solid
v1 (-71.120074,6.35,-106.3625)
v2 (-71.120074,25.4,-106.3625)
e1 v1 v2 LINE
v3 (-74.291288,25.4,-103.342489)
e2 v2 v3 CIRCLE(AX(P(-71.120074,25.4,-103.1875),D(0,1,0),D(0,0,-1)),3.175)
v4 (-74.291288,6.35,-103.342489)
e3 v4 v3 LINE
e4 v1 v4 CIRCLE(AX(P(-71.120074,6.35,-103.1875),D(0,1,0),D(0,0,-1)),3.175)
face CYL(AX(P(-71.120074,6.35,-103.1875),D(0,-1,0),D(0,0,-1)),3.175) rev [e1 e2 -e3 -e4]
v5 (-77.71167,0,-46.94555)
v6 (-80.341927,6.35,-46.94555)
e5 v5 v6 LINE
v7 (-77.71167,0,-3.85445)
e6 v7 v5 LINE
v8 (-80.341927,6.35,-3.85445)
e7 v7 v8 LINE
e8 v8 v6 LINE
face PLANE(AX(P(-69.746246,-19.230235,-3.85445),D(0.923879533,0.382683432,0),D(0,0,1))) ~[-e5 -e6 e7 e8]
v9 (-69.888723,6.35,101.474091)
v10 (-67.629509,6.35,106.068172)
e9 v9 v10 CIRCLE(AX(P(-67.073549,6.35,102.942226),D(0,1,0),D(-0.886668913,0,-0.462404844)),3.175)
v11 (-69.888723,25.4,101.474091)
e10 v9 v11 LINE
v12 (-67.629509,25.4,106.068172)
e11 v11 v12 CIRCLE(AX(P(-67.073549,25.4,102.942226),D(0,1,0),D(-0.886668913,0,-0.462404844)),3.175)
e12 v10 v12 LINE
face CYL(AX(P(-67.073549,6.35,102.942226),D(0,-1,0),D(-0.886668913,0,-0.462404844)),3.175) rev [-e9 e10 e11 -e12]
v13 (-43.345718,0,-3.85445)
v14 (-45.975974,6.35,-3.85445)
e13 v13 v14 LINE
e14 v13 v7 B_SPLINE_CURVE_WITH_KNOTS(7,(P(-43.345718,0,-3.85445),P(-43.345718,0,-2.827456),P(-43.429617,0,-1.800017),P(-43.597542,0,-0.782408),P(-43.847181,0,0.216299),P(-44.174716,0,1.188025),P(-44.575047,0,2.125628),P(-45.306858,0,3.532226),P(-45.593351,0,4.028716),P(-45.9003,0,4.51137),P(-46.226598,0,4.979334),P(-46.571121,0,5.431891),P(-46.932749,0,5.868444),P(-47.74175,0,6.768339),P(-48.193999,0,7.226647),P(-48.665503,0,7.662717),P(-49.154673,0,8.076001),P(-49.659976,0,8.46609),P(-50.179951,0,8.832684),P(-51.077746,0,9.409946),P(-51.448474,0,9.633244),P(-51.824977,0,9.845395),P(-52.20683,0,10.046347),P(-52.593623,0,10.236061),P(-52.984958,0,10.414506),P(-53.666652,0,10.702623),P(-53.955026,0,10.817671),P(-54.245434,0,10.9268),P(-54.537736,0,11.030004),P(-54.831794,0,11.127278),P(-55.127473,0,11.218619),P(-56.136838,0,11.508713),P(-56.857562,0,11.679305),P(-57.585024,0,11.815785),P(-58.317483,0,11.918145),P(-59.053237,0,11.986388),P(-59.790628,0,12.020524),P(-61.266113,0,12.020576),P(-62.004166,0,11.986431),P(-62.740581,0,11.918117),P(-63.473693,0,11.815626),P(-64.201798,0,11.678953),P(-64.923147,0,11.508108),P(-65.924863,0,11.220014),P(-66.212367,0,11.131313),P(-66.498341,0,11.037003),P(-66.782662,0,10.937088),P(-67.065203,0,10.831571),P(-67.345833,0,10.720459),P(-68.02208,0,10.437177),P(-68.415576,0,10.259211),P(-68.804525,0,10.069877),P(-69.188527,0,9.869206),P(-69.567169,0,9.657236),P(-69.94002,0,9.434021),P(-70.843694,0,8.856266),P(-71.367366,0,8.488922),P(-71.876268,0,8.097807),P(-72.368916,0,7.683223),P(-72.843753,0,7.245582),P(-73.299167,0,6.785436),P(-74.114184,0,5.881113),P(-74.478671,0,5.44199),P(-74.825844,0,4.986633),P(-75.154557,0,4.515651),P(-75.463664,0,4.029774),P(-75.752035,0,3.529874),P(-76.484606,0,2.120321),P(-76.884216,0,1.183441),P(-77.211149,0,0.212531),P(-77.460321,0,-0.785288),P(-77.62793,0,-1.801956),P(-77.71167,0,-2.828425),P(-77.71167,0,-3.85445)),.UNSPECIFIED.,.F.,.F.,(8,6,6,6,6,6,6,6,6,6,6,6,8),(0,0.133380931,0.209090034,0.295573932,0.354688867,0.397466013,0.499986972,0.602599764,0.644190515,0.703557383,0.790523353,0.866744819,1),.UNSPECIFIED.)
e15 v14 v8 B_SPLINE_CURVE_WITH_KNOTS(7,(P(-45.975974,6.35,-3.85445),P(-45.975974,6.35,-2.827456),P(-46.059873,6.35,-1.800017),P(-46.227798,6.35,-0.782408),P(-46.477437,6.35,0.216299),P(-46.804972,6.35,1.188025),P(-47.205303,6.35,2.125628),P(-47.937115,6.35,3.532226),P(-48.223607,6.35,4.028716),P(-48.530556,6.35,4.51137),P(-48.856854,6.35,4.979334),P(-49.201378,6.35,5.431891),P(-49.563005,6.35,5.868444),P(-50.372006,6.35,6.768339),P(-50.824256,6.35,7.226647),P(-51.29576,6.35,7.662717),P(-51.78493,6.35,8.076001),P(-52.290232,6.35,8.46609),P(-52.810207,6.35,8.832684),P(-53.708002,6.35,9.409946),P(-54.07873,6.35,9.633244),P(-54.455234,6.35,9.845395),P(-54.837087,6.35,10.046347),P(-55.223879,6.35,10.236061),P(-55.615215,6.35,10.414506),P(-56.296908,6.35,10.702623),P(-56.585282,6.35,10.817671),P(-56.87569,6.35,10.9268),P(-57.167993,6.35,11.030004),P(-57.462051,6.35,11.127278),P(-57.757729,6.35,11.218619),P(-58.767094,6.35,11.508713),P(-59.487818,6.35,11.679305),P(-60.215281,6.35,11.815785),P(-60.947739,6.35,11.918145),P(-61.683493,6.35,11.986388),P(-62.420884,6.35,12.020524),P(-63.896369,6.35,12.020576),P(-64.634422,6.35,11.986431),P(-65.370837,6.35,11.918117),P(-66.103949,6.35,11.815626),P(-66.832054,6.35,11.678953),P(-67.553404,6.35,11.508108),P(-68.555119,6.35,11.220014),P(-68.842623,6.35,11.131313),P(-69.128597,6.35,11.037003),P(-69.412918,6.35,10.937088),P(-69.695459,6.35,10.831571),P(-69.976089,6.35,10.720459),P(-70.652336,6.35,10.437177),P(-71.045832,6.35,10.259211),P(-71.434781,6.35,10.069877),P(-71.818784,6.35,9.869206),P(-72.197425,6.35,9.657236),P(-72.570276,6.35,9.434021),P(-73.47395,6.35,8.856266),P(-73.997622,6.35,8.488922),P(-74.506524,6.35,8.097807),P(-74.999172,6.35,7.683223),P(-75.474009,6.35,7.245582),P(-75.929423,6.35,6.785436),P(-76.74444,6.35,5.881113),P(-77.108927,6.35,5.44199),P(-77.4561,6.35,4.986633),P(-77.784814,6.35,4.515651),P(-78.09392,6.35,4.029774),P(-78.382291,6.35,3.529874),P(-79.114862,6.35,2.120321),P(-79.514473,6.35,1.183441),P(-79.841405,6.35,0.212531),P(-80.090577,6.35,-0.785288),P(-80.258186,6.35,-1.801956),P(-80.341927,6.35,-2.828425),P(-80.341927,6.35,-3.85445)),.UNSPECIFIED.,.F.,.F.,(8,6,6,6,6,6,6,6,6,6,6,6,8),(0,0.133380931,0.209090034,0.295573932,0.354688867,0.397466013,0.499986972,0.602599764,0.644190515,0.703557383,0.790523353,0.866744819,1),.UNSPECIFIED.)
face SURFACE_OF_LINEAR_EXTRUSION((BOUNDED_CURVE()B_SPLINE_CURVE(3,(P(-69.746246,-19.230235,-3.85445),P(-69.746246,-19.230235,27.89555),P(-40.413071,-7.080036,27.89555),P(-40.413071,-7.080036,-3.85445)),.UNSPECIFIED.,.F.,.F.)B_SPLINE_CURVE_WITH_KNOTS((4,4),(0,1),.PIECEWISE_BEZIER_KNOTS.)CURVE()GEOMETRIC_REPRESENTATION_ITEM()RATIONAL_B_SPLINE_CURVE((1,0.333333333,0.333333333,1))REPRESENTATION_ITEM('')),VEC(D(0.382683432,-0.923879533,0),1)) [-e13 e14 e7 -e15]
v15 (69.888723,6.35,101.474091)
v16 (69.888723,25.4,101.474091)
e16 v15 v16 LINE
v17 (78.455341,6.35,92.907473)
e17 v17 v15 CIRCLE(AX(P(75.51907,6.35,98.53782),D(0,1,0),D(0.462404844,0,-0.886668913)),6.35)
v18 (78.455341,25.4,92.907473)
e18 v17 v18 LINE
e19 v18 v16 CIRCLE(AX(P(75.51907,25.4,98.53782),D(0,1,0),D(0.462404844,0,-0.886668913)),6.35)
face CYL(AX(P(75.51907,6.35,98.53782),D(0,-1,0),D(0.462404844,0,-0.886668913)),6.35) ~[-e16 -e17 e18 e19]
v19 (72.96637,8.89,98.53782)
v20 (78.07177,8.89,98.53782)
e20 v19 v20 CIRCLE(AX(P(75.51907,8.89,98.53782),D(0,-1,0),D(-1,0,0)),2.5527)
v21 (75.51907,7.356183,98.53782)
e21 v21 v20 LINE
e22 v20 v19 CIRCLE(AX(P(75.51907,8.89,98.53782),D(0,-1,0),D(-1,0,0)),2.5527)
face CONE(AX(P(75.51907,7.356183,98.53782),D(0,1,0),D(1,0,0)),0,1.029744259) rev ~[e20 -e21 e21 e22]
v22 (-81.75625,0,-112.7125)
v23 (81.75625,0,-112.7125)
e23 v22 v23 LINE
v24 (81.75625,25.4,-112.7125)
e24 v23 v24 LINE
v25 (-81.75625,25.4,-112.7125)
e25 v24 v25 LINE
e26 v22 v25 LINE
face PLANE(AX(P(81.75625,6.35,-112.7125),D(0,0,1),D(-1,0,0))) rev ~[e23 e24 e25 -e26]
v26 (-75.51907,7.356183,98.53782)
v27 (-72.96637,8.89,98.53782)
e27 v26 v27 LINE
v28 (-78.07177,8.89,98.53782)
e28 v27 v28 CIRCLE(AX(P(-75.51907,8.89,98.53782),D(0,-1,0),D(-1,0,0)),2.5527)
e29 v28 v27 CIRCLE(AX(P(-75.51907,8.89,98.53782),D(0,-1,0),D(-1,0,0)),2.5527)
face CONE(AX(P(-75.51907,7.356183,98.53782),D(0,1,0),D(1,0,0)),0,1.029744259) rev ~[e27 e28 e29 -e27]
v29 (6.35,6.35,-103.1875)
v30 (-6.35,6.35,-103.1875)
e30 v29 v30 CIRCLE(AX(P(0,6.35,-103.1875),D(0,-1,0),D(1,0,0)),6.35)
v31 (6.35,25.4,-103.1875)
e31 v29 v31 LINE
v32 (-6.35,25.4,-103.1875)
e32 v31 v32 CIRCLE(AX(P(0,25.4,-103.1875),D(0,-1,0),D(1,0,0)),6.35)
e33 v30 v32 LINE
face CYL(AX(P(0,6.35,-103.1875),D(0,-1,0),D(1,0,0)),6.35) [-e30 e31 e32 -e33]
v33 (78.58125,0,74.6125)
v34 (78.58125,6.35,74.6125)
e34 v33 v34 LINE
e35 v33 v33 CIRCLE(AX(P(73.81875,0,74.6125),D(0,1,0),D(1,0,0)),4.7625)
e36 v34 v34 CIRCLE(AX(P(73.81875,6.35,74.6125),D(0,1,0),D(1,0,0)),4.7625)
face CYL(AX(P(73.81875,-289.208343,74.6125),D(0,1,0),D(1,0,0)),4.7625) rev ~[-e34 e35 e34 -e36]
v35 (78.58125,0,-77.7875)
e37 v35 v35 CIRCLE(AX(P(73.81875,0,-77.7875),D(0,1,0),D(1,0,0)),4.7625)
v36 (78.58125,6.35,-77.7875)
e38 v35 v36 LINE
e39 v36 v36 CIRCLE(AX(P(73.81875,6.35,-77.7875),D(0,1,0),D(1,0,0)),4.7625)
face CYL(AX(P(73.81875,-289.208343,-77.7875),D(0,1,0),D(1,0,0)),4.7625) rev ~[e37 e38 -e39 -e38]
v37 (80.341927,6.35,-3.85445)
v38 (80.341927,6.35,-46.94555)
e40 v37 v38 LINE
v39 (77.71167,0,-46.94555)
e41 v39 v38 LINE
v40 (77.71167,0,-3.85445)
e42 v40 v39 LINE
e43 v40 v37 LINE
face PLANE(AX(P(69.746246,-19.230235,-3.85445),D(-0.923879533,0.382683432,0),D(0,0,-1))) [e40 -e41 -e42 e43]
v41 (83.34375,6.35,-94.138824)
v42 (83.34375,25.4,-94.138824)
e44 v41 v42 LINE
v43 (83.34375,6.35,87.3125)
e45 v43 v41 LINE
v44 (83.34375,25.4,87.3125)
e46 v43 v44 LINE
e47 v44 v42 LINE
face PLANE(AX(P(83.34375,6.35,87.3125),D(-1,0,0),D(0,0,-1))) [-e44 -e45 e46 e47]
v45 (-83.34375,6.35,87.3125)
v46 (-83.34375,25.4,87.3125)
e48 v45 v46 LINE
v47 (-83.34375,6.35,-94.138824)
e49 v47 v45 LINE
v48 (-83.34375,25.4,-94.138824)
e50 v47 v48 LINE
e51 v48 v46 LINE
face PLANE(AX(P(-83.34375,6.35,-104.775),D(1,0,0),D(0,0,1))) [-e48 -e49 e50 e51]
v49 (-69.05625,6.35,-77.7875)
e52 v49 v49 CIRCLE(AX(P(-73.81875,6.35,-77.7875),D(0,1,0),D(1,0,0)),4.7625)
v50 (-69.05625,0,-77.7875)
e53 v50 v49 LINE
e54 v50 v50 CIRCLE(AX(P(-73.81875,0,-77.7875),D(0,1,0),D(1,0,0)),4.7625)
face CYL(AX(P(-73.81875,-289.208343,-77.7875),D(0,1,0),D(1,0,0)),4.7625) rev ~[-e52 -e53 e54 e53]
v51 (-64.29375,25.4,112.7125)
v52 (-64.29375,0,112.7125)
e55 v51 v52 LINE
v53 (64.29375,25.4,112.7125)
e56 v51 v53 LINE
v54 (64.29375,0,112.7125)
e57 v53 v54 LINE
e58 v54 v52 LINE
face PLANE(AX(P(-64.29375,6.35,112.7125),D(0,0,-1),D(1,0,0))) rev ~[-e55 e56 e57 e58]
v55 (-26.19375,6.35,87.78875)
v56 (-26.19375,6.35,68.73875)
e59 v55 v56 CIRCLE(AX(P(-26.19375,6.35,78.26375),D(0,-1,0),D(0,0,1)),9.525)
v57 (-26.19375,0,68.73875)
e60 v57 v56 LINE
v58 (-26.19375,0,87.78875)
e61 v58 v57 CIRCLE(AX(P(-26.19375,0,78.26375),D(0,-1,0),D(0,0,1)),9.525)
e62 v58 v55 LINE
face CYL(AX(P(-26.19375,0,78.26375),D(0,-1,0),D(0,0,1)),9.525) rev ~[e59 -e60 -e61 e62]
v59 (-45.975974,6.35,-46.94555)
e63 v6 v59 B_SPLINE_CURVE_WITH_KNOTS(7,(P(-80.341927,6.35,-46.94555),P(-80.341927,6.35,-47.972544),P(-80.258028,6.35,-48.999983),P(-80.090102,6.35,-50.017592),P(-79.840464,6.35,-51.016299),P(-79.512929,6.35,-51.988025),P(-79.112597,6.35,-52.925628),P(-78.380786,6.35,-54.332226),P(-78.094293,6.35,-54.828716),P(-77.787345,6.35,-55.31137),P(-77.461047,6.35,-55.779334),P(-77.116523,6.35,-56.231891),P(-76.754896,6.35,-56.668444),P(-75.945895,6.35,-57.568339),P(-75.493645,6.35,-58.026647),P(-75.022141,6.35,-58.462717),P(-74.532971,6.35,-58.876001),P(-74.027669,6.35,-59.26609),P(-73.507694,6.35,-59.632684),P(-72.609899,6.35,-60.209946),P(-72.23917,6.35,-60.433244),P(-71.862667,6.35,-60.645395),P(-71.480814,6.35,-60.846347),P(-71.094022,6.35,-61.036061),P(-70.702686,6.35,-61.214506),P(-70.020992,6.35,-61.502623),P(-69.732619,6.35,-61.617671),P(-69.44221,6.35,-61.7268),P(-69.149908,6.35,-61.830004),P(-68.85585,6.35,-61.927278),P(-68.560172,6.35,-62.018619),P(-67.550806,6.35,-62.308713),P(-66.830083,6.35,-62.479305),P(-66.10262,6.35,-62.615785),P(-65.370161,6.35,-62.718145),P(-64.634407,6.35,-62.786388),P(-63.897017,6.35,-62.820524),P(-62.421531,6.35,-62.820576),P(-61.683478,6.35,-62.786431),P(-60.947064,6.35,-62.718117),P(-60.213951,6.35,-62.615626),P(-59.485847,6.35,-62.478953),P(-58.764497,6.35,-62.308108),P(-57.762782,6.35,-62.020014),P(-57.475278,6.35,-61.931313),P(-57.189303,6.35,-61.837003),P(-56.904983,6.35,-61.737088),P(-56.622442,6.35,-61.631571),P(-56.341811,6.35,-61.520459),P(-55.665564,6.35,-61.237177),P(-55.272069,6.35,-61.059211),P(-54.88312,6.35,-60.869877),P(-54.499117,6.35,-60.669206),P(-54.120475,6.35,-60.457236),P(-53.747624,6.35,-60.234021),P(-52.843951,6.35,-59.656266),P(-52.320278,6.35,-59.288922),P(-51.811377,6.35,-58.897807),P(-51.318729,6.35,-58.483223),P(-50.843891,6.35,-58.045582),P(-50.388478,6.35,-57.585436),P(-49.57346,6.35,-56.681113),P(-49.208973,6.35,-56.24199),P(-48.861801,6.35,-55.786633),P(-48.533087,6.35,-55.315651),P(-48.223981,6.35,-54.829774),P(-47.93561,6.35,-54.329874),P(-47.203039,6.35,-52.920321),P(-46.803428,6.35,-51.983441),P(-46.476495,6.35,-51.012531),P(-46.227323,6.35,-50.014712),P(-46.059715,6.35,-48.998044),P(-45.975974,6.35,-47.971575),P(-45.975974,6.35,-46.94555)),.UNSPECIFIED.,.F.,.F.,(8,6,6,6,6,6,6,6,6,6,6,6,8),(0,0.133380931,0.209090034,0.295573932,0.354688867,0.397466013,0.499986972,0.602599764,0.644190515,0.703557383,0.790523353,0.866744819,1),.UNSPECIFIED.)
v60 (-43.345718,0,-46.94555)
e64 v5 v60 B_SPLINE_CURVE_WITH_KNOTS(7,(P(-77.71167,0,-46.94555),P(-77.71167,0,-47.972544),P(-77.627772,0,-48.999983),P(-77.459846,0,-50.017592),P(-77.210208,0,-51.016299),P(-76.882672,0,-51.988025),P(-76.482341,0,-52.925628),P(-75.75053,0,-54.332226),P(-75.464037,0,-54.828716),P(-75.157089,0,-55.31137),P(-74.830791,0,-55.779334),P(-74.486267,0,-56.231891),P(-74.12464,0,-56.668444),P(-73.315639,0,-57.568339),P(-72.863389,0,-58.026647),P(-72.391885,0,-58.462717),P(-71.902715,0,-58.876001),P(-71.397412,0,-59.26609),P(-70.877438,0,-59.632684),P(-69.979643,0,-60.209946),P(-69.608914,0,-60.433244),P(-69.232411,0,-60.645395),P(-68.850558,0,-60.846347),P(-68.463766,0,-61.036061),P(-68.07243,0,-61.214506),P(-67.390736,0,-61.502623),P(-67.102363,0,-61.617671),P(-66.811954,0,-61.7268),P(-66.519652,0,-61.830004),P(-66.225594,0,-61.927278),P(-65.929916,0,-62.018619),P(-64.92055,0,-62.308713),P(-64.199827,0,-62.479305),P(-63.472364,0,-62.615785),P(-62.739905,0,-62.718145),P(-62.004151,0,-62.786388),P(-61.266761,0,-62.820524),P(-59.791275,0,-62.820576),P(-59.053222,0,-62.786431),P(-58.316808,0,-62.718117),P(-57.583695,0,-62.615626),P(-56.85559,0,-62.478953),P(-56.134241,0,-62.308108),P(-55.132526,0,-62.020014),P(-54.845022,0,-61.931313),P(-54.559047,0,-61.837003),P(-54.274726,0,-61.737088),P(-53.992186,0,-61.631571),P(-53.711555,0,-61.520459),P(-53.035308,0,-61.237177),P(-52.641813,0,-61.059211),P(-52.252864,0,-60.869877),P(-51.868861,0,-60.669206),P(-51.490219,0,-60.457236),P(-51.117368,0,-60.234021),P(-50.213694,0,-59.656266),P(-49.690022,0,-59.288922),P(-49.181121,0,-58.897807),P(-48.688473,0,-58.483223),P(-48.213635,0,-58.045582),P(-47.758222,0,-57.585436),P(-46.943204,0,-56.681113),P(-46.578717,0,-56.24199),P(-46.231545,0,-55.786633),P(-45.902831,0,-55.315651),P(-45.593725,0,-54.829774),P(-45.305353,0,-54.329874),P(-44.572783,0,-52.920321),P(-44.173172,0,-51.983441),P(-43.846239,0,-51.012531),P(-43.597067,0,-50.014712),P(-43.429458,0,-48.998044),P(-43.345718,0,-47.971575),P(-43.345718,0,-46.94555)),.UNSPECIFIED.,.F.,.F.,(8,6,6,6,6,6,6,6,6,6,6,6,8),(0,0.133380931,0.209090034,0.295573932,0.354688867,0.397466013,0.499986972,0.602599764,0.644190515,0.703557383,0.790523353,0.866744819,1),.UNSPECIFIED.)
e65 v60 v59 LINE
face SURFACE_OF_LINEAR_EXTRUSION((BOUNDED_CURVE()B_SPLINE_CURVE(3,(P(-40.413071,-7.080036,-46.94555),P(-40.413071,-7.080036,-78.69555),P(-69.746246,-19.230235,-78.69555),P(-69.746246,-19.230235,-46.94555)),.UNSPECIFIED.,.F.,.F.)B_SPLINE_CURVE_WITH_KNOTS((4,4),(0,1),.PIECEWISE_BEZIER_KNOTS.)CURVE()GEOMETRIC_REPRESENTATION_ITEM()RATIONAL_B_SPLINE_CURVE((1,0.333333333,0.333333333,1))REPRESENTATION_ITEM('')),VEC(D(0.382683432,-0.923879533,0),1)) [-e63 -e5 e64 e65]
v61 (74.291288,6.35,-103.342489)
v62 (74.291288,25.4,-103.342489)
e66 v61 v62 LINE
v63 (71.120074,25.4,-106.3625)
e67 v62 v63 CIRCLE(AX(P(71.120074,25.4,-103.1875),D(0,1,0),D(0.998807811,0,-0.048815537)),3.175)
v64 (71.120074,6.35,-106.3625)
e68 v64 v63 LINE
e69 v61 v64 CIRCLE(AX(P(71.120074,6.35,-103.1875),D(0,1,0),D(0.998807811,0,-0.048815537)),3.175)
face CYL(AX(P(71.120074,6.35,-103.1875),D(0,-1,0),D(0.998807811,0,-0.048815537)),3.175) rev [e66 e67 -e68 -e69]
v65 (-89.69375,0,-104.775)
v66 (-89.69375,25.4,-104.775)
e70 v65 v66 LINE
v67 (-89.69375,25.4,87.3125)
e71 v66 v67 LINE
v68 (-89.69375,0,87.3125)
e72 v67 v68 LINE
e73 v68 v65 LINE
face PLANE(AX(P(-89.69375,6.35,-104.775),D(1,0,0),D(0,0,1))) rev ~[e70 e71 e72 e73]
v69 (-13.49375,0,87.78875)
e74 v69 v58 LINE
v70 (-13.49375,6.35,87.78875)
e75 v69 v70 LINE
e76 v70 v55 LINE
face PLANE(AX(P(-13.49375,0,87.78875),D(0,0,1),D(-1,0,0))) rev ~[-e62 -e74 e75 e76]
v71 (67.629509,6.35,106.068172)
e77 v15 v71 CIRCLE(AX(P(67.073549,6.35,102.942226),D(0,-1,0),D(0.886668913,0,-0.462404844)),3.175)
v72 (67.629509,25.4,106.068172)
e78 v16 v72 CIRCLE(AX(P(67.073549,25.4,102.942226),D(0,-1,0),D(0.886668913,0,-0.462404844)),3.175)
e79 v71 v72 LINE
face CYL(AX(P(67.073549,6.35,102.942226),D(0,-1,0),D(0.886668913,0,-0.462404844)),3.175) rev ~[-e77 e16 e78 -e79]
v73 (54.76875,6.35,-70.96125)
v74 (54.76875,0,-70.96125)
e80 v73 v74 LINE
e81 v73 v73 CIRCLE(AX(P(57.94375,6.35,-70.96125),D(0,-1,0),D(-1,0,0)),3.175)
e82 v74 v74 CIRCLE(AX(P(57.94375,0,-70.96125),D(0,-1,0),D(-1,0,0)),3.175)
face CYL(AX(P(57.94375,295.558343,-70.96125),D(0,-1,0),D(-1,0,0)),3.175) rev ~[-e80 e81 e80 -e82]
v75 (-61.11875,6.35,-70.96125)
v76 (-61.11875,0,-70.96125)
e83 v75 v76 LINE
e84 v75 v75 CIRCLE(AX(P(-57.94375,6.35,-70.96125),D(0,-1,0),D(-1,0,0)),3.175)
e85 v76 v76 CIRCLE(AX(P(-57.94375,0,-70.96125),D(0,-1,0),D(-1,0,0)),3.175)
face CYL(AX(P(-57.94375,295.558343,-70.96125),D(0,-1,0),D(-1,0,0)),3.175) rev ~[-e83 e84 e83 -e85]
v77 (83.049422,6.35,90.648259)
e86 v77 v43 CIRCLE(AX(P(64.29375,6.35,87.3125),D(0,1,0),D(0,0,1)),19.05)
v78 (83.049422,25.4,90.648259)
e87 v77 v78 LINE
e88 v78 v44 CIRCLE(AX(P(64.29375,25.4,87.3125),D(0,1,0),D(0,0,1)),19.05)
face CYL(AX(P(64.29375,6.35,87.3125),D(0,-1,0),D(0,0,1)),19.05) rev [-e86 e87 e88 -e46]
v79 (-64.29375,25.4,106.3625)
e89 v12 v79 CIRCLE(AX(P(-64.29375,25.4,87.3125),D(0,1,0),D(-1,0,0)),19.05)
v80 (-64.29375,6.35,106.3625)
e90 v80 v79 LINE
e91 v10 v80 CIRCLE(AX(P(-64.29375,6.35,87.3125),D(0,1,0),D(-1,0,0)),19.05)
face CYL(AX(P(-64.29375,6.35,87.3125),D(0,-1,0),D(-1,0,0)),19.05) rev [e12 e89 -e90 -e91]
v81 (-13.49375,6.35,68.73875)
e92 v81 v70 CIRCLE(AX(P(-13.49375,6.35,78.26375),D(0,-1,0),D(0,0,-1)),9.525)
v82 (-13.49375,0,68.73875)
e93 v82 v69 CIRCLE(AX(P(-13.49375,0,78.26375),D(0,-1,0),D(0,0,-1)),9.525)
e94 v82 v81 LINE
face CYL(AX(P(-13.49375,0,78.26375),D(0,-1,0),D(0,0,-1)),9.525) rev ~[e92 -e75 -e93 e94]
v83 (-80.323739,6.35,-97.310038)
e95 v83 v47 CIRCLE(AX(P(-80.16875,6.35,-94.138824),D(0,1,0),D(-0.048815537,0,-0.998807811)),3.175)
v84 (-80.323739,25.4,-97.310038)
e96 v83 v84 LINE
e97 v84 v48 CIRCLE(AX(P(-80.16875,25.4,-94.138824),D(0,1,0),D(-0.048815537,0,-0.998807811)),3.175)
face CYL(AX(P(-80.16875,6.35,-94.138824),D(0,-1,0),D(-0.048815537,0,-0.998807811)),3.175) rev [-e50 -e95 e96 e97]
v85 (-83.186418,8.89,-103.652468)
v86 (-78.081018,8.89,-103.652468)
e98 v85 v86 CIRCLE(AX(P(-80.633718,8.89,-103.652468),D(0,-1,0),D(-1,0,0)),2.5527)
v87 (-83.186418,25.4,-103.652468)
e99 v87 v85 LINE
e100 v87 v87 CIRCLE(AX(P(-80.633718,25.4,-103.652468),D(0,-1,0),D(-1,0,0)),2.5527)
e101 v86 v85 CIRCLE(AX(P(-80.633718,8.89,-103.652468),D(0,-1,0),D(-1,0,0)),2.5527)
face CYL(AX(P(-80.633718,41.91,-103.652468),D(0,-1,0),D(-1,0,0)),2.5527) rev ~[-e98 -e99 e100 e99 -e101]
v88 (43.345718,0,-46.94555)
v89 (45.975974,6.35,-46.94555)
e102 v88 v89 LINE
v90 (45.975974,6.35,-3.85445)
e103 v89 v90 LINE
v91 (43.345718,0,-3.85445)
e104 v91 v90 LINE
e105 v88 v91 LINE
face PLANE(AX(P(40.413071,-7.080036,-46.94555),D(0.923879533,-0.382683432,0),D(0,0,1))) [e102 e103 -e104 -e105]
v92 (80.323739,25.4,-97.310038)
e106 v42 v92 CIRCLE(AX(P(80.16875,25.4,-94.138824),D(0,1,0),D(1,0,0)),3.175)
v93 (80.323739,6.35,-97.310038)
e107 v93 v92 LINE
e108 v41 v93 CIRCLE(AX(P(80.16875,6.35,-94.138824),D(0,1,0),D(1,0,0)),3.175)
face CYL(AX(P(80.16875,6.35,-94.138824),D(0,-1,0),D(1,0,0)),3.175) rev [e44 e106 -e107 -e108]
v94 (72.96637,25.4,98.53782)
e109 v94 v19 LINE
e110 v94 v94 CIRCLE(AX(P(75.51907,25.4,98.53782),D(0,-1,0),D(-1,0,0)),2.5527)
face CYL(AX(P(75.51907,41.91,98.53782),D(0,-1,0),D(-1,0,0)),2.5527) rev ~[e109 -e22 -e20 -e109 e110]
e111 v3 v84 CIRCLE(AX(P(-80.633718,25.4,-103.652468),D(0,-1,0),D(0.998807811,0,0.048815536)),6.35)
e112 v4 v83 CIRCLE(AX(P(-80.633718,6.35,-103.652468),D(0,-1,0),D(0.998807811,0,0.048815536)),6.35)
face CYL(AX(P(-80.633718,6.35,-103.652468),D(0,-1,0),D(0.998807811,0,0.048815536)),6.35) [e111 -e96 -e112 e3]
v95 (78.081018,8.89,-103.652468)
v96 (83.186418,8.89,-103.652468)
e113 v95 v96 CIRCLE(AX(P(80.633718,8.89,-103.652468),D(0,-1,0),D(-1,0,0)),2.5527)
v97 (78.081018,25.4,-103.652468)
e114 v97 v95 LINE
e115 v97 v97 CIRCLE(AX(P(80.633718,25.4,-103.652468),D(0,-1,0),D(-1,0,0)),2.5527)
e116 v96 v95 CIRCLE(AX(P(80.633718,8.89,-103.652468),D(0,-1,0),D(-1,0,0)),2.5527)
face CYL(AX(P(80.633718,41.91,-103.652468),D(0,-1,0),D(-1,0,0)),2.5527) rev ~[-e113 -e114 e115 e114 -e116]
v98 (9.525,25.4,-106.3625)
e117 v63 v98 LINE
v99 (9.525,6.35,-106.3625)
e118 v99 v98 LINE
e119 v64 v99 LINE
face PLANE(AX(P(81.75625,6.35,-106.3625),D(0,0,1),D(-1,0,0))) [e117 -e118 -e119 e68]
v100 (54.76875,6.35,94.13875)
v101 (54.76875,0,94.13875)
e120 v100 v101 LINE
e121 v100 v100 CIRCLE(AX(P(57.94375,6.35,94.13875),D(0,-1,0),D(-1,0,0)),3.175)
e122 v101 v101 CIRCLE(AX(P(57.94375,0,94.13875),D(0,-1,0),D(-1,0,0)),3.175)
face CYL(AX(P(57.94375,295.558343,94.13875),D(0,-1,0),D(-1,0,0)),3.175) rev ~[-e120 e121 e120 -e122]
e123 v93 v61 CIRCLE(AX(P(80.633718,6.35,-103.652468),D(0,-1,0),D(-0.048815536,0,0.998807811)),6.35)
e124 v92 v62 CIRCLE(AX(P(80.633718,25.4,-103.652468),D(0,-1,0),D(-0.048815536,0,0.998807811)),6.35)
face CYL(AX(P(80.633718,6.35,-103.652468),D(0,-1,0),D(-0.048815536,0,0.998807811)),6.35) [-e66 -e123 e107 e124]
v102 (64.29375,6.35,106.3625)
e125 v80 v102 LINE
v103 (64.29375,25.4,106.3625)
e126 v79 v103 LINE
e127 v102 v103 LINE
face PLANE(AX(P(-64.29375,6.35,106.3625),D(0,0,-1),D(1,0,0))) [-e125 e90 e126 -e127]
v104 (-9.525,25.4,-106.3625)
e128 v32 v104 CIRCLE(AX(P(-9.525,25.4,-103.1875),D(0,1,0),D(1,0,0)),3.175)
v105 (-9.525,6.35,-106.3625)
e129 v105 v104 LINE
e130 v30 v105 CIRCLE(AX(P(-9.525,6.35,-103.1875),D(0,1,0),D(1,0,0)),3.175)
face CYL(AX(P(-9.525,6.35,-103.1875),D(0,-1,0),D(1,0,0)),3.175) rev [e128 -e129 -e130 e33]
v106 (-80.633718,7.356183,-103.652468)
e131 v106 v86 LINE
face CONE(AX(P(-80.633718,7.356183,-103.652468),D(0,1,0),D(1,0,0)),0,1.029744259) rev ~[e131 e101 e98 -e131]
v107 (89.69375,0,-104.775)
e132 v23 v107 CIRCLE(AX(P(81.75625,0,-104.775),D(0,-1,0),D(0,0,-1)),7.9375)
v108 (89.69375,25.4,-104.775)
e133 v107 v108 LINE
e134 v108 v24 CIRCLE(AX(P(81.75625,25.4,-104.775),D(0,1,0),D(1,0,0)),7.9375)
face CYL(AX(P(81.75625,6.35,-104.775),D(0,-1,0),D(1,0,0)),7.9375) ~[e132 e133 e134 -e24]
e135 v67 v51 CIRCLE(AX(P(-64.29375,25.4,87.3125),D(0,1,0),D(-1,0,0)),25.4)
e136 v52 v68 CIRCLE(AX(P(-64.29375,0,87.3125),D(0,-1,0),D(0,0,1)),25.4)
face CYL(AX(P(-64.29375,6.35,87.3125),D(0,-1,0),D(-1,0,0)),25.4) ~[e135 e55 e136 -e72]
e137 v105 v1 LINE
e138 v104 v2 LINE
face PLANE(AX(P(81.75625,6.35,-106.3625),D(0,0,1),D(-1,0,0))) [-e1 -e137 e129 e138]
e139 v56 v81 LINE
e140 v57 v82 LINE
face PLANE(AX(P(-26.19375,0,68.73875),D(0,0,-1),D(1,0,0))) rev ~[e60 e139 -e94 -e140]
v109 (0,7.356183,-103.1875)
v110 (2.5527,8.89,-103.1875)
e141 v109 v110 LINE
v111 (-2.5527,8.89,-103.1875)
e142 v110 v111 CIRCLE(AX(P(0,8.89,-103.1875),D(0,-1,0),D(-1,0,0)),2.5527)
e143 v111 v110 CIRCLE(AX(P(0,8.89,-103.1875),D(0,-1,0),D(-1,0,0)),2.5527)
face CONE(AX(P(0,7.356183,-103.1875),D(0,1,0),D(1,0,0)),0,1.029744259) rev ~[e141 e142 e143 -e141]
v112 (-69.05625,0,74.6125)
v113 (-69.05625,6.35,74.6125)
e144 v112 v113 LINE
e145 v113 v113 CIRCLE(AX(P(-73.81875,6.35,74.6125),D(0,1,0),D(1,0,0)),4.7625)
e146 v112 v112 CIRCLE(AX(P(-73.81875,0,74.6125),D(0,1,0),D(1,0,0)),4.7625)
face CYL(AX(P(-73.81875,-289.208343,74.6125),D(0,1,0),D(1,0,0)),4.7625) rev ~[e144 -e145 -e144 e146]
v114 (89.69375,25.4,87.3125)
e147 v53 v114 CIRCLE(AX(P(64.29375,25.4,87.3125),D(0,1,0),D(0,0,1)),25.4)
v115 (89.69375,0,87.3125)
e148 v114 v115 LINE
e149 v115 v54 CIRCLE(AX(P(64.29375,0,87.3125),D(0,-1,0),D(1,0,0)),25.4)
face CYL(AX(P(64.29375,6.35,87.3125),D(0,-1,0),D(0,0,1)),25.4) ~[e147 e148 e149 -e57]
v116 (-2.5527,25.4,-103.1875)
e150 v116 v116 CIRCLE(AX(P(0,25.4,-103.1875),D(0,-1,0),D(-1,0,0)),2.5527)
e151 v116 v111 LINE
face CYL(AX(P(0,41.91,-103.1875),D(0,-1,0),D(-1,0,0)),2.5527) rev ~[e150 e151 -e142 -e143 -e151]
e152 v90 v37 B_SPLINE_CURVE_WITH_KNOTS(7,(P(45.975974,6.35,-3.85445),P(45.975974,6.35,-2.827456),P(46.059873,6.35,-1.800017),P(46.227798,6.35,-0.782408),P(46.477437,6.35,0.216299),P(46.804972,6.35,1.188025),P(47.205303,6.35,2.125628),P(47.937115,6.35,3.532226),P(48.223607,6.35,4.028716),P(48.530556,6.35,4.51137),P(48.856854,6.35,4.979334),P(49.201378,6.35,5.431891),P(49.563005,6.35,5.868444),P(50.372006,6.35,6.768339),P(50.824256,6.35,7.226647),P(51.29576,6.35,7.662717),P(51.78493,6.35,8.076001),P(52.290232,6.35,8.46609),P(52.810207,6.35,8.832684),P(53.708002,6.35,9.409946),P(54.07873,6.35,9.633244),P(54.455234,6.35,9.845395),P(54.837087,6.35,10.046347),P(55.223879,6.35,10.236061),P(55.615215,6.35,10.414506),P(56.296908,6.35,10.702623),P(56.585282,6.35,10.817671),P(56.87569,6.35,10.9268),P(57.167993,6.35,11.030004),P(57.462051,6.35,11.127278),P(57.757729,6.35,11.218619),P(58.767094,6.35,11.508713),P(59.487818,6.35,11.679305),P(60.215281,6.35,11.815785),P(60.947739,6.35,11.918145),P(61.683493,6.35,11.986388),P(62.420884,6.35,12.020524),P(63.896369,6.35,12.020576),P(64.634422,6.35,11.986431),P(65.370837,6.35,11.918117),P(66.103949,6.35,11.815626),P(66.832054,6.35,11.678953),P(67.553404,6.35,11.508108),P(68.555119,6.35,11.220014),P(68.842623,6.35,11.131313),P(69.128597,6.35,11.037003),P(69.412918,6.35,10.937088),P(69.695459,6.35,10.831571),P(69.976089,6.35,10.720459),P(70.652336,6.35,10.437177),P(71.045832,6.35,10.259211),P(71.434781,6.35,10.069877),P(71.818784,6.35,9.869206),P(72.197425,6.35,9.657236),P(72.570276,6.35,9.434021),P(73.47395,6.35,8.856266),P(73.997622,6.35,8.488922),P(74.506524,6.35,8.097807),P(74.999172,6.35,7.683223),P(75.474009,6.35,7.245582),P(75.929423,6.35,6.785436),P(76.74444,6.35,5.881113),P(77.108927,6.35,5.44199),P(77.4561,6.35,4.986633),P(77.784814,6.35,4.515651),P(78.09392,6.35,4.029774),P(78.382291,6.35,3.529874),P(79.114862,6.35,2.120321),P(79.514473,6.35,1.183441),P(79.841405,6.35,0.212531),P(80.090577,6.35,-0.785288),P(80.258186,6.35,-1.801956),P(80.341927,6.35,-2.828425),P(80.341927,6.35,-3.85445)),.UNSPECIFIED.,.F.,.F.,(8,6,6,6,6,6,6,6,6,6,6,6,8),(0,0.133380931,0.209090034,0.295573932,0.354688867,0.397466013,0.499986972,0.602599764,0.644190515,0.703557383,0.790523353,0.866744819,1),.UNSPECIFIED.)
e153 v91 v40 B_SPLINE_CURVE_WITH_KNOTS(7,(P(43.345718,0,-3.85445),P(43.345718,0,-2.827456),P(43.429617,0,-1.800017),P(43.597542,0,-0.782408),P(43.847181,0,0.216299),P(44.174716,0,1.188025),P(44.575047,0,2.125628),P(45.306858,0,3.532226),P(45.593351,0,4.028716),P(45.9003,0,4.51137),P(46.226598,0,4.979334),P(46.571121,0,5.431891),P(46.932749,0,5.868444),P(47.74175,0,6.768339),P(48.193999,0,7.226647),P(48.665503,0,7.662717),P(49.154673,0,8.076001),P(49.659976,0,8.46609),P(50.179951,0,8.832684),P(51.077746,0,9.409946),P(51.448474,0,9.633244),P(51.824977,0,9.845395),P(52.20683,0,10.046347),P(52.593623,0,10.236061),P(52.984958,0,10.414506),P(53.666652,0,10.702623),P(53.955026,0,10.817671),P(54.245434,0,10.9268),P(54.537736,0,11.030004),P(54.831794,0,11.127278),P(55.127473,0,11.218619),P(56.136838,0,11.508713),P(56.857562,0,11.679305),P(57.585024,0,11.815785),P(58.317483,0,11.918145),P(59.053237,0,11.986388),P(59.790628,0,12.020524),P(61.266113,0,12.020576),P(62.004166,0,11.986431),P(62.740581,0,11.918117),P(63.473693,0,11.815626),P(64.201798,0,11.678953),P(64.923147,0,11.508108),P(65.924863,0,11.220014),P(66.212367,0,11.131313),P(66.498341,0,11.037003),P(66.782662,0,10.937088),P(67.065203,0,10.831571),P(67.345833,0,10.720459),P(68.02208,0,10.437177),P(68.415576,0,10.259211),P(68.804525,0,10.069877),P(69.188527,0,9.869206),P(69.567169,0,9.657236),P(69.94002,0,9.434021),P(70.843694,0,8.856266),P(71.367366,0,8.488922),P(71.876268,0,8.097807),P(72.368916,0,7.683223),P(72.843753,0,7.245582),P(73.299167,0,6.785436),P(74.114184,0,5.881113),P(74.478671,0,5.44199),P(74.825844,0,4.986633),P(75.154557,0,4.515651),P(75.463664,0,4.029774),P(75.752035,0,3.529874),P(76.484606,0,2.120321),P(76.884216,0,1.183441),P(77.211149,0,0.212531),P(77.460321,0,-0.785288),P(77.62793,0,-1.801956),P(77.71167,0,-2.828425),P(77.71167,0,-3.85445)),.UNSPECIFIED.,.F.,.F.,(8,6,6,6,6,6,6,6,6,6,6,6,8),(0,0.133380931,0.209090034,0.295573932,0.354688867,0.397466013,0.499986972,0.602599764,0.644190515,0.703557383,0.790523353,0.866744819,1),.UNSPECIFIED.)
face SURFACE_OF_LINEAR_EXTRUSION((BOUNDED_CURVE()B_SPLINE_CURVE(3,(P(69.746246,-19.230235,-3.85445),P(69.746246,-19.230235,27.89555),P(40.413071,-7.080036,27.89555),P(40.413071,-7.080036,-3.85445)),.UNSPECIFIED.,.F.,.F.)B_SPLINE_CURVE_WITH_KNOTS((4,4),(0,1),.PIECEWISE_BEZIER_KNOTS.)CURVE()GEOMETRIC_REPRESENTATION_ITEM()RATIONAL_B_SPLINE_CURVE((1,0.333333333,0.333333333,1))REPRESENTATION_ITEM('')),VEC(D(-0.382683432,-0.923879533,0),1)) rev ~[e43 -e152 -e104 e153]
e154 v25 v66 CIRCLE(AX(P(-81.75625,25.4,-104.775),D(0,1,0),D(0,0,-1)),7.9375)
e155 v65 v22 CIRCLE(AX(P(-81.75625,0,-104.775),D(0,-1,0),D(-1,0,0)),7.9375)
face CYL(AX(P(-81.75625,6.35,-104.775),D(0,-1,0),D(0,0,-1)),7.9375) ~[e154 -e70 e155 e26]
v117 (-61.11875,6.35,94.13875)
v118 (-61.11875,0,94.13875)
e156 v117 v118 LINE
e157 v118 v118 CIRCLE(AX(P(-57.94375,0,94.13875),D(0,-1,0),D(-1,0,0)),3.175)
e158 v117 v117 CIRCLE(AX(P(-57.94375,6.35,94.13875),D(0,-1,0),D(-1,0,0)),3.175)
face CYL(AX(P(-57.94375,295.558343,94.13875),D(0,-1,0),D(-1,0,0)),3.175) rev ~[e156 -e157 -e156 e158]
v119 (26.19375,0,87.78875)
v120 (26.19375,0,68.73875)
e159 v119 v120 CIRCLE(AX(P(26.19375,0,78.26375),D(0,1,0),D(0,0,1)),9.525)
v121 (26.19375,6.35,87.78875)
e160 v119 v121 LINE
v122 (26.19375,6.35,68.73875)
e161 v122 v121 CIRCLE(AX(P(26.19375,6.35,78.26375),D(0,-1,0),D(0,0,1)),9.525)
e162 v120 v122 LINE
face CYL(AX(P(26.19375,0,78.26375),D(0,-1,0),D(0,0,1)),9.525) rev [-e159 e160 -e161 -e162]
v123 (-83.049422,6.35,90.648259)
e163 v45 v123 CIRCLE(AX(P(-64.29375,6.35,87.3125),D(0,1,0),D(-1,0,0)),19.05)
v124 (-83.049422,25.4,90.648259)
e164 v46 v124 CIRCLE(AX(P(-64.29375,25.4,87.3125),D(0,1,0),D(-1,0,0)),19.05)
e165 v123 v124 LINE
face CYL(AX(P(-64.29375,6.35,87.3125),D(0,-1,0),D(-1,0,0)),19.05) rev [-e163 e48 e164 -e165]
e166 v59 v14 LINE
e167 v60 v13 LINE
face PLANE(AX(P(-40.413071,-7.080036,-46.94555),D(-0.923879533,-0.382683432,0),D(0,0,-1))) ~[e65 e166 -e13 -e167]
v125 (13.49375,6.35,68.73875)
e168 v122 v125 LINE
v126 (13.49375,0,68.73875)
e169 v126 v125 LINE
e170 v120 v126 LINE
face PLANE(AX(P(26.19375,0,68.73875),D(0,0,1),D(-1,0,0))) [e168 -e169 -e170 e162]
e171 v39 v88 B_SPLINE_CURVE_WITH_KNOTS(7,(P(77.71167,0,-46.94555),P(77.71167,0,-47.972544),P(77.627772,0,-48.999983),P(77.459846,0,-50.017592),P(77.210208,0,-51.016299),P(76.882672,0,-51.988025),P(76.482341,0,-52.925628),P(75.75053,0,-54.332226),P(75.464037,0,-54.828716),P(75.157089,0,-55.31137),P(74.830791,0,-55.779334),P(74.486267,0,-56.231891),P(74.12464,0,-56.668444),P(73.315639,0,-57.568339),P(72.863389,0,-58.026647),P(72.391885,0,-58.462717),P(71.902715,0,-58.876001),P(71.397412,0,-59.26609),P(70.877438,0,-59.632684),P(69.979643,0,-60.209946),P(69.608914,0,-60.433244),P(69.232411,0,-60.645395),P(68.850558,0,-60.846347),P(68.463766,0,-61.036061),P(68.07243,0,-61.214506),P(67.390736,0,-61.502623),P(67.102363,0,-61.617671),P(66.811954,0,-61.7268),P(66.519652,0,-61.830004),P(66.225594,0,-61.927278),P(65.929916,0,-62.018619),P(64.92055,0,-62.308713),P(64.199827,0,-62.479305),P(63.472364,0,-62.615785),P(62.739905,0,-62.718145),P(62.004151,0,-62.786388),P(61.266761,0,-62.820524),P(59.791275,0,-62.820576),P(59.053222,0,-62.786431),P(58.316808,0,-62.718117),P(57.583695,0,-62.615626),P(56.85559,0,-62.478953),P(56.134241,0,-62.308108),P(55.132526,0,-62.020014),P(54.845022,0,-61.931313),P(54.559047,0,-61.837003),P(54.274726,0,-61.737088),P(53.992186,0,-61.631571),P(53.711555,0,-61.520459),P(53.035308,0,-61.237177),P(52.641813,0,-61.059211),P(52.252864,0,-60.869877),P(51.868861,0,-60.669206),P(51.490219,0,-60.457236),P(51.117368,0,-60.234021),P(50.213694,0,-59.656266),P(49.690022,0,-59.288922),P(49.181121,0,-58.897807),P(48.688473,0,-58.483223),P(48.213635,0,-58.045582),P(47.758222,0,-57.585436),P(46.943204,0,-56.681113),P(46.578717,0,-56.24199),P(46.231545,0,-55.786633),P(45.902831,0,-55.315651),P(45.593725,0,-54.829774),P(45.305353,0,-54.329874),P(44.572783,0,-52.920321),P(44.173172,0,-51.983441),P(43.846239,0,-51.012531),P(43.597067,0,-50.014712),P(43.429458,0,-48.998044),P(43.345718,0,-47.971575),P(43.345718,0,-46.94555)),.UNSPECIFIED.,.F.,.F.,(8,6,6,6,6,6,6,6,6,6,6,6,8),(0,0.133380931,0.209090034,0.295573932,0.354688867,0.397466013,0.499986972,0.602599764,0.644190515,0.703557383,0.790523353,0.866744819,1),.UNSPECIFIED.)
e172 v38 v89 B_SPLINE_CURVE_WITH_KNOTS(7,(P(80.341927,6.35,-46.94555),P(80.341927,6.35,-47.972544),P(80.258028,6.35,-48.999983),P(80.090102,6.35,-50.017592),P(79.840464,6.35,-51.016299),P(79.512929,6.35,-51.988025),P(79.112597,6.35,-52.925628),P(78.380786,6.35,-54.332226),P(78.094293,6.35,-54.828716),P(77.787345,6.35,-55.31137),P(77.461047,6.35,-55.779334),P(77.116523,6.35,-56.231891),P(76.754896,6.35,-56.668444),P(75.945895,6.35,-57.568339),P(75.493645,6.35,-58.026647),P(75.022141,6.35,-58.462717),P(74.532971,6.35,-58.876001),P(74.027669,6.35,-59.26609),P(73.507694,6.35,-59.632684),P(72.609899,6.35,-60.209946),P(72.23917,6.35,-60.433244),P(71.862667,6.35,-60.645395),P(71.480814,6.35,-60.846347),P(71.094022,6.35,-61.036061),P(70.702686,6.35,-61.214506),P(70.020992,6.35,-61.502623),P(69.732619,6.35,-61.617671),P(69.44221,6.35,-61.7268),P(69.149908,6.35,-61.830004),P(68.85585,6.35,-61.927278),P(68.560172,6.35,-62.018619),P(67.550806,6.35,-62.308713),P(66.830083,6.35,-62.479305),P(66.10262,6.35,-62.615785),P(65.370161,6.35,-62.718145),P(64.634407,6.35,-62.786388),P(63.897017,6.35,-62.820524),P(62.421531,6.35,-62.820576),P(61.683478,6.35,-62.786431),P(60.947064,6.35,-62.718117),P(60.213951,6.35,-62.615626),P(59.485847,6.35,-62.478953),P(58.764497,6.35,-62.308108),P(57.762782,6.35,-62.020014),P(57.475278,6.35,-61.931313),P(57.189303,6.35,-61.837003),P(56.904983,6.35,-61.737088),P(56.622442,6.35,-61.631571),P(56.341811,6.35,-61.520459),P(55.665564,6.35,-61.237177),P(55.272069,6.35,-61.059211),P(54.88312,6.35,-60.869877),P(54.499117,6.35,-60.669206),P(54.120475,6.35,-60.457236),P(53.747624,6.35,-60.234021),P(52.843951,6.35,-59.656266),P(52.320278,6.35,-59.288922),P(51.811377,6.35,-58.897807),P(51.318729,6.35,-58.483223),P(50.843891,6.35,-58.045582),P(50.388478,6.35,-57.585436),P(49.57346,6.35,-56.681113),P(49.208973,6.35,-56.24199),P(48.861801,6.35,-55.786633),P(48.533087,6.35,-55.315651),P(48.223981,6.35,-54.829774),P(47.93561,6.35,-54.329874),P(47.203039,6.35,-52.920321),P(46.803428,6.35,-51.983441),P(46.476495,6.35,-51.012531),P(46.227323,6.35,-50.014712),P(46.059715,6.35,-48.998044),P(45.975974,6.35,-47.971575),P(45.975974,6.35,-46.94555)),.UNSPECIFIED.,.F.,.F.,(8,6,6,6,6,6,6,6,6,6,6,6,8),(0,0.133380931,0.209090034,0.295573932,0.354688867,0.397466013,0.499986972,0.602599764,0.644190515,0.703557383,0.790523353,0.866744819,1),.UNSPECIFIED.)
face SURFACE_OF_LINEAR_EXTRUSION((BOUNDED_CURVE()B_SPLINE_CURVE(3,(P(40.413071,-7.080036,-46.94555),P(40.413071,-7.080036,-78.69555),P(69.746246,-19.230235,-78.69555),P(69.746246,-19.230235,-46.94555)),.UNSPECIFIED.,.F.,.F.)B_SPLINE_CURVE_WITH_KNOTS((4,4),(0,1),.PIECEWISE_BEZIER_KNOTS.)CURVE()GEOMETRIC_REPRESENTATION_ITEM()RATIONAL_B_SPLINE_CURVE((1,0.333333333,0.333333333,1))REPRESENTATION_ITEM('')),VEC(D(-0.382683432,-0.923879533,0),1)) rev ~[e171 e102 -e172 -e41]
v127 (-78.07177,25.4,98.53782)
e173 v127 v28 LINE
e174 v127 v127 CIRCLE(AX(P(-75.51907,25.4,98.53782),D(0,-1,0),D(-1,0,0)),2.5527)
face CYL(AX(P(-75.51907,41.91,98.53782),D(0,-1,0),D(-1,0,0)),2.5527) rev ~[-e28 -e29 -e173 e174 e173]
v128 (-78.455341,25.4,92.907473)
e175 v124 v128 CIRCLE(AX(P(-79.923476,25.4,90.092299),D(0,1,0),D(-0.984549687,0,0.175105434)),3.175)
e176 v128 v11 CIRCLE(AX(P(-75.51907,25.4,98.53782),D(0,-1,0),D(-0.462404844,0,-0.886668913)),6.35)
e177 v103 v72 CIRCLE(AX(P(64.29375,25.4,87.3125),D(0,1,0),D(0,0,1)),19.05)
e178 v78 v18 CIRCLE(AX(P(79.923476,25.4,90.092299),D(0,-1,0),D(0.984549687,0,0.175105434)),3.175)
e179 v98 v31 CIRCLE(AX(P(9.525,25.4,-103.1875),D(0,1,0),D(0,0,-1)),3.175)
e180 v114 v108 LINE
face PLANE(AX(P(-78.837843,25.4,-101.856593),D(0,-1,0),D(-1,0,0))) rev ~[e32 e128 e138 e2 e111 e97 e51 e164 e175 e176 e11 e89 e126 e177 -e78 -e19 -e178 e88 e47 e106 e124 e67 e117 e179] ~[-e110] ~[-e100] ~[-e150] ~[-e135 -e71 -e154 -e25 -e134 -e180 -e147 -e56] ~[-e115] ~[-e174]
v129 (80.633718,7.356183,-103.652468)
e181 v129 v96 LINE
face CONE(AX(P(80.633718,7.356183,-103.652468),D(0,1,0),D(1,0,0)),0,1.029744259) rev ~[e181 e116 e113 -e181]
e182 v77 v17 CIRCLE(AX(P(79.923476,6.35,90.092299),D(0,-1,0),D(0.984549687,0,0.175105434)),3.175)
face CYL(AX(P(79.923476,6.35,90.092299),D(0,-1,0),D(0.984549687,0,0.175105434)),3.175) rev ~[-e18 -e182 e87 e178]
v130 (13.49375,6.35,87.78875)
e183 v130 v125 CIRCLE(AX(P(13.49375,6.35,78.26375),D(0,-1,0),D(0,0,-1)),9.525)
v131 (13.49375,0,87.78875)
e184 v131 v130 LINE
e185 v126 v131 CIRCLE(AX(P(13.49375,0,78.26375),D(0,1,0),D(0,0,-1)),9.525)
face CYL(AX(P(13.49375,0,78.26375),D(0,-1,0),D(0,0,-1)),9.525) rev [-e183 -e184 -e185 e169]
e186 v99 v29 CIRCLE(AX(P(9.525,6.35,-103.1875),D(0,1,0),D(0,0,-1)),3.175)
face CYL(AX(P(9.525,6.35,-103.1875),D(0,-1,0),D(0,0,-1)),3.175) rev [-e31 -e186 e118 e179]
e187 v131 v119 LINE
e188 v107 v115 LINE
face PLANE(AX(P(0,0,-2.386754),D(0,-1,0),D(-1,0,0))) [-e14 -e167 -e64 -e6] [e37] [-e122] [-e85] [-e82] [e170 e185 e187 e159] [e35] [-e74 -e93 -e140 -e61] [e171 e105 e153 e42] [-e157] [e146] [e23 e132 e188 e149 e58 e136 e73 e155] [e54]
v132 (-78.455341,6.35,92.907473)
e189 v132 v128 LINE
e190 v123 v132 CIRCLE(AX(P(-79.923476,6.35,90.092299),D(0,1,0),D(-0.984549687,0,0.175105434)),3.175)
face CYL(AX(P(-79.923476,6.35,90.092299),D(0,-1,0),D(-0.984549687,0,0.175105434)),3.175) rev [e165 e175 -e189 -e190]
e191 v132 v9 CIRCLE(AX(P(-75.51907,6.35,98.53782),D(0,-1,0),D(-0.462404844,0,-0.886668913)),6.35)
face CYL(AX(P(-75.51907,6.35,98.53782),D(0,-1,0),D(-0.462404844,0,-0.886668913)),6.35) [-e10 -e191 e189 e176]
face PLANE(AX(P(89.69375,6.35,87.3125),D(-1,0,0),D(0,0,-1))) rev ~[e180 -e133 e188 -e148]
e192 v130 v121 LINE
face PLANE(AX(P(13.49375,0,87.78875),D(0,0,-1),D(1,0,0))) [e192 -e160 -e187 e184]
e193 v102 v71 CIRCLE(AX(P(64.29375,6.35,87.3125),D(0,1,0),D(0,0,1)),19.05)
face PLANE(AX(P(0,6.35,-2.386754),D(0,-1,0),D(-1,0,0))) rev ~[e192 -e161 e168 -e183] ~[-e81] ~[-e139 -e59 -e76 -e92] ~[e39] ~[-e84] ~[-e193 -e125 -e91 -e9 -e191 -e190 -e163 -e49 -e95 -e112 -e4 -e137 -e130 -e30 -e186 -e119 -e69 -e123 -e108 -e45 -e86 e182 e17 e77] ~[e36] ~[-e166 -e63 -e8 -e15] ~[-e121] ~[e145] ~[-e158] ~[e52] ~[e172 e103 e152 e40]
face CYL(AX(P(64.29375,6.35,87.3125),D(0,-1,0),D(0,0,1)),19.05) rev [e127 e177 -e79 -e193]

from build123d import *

# Parameters (mm, degrees)
BOSS_EXTRUDE1_DEPTH          = 6.35
BOSS_EXTRUDE2_DEPTH          = 19.05
CUT_EXTRUDE2_START           = -25.4
CUT_EXTRUDE2_DEPTH           = 31.75
CUT_EXTRUDE3_DEPTH           = 147.267687771
BOSS_EXTRUDE3_DEPTH          = 19.05
F_1_4_0_25_DIAMETER_HOLE1_D  = 6.35
F_3_8_0_375_DIAMETER_HOLE1_D = 9.525
F_1_4_20_TAPPED_HOLE1_D      = 5.1054
F_1_4_20_TAPPED_HOLE1_DEPTH  = 16.51
F_1_4_20_TAPPED_HOLE1_TIP    = 1.533816902


with BuildPart() as part:
    # Sketch1 → Boss-Extrude1 (new body)
    with BuildSketch(Plane(origin=(0, 0, 0), x_dir=(1, 0, 0), z_dir=(0, 1, 0))):
        with BuildLine():
            Line((-81.75625, 112.7125), (81.75625, 112.7125))
            ThreePointArc((81.75625, 112.7125), (87.368910076, 110.387660076), (89.69375, 104.775))
            Line((89.69375, 104.775), (89.69375, -87.3125))
            ThreePointArc((89.69375, -87.3125), (82.254262242, -105.273012242), (64.29375, -112.7125))
            Line((64.29375, -112.7125), (-64.29375, -112.7125))
            ThreePointArc((-64.29375, -112.7125), (-82.254262242, -105.273012242), (-89.69375, -87.3125))
            Line((-89.69375, -87.3125), (-89.69375, 104.775))
            ThreePointArc((-89.69375, 104.775), (-87.368910076, 110.387660076), (-81.75625, 112.7125))
        make_face()
    extrude(amount=BOSS_EXTRUDE1_DEPTH)

    # Sketch2 → Boss-Extrude2 (add)
    with BuildSketch(Plane(origin=(0, 6.35, 0), x_dir=(1, 0, 0), z_dir=(0, 1, 0))):
        with BuildLine():
            Line((89.69375, -87.3125), (89.69375, 104.775))
            ThreePointArc((89.69375, 104.775), (87.368910076, 110.387660076), (81.75625, 112.7125))
            Line((81.75625, 112.7125), (-81.75625, 112.7125))
            ThreePointArc((-81.75625, 112.7125), (-87.368910076, 110.387660076), (-89.69375, 104.775))
            Line((-89.69375, 104.775), (-89.69375, -87.3125))
            ThreePointArc((-89.69375, -87.3125), (-82.254262242, -105.273012242), (-64.29375, -112.7125))
            Line((-64.29375, -112.7125), (64.29375, -112.7125))
            ThreePointArc((64.29375, -112.7125), (82.254262242, -105.273012242), (89.69375, -87.3125))
        make_face()
        with BuildLine():
            Line((81.75625, 106.3625), (-81.75625, 106.3625))
            ThreePointArc((-81.75625, 106.3625), (-82.878782015, 105.897532015), (-83.34375, 104.775))
            Line((-83.34375, 104.775), (-83.34375, -87.3125))
            ThreePointArc((-83.34375, -87.3125), (-77.764134182, -100.782884182), (-64.29375, -106.3625))
            Line((-64.29375, -106.3625), (64.29375, -106.3625))
            ThreePointArc((64.29375, -106.3625), (77.764134182, -100.782884182), (83.34375, -87.3125))
            Line((83.34375, -87.3125), (83.34375, 104.775))
            ThreePointArc((83.34375, 104.775), (82.878782015, 105.897532015), (81.75625, 106.3625))
        make_face(mode=Mode.SUBTRACT)
    extrude(amount=BOSS_EXTRUDE2_DEPTH)

    # Sketch7 → Cut-Extrude2 (cut)
    with BuildSketch(Plane(origin=(13.135345572, 31.711529428, 0), x_dir=(0, 0, -1), z_dir=(0.3826834323650874, 0.9238795325112878, 0)).offset(CUT_EXTRUDE2_START)):
        with BuildLine():
            Line((46.94555, -40.046221701), (3.85445, -40.046221701))
            add(Edge.make_bspline(
                [(3.85445, -71.796221701), (-27.89555, -71.796221701), (-27.89555, -40.046221701), (3.85445, -40.046221701)],
                knots=[0, 0, 0, 0, 1, 1, 1, 1], degree=3, weights=[1, 0.333333333, 0.333333333, 1]))
            Line((3.85445, -71.796221701), (46.94555, -71.796221701))
            add(Edge.make_bspline(
                [(46.94555, -40.046221701), (78.69555, -40.046221701), (78.69555, -71.796221701), (46.94555, -71.796221701)],
                knots=[0, 0, 0, 0, 1, 1, 1, 1], degree=3, weights=[1, 0.333333333, 0.333333333, 1]))
        make_face()
    cut_extrude2 = extrude(amount=CUT_EXTRUDE2_DEPTH, mode=Mode.SUBTRACT)

    # Sketch8 → Cut-Extrude3 (cut, through all)
    with BuildSketch(Plane.XZ):
        with BuildLine():
            Line((13.49375, 87.78875), (26.19375, 87.78875))
            ThreePointArc((26.19375, 87.78875), (35.71875, 78.26375), (26.19375, 68.73875))
            Line((26.19375, 68.73875), (13.49375, 68.73875))
            ThreePointArc((13.49375, 68.73875), (3.96875, 78.26375), (13.49375, 87.78875))
        make_face()
        with BuildLine():
            Line((-13.49375, 87.78875), (-26.19375, 87.78875))
            ThreePointArc((-26.19375, 87.78875), (-35.71875, 78.26375), (-26.19375, 68.73875))
            Line((-26.19375, 68.73875), (-13.49375, 68.73875))
            ThreePointArc((-13.49375, 68.73875), (-3.96875, 78.26375), (-13.49375, 87.78875))
        make_face()
    extrude(amount=-CUT_EXTRUDE3_DEPTH, mode=Mode.SUBTRACT)

    # Sketch9 → Boss-Extrude3 (add)
    with BuildSketch(Plane(origin=(0, 6.35, 0), x_dir=(1, 0, 0), z_dir=(0, 1, 0))):
        with BuildLine():
            Line((-81.75625, 106.3625), (-71.120073585, 106.3625))
            ThreePointArc((-71.120073585, 106.3625), (-73.309655038, 105.486708137), (-74.291288385, 103.342489328))
            ThreePointArc((-74.291288385, 103.342489328), (-76.143589924, 99.162339924), (-80.323739328, 97.310038385))
            ThreePointArc((-80.323739328, 97.310038385), (-82.467958137, 96.328405038), (-83.34375, 94.138823585))
            Line((-83.34375, 94.138823585), (-83.34375, 104.775))
            ThreePointArc((-83.34375, 104.775), (-82.878782015, 105.897532015), (-81.75625, 106.3625))
        make_face()
        with BuildLine():
            Line((-9.525, 106.3625), (9.525, 106.3625))
            ThreePointArc((9.525, 106.3625), (7.27993597, 105.43256403), (6.35, 103.1875))
            ThreePointArc((6.35, 103.1875), (0, 96.8375), (-6.35, 103.1875))
            ThreePointArc((-6.35, 103.1875), (-7.27993597, 105.43256403), (-9.525, 106.3625))
        make_face()
        with BuildLine():
            Line((83.34375, 104.775), (83.34375, 94.138823585))
            ThreePointArc((83.34375, 94.138823585), (82.467958137, 96.328405038), (80.323739328, 97.310038385))
            ThreePointArc((80.323739328, 97.310038385), (76.143589924, 99.162339924), (74.291288385, 103.342489328))
            ThreePointArc((74.291288385, 103.342489328), (73.309655038, 105.486708137), (71.120073585, 106.3625))
            Line((71.120073585, 106.3625), (81.75625, 106.3625))
            ThreePointArc((81.75625, 106.3625), (82.878782015, 105.897532015), (83.34375, 104.775))
        make_face()
        with BuildLine():
            ThreePointArc((-83.049421546, -90.648258512), (-81.324581361, -92.941426622), (-78.45534091, -92.907472557))
            ThreePointArc((-78.45534091, -92.907472557), (-71.028942091, -94.047692091), (-69.888722557, -101.47409091))
            ThreePointArc((-69.888722557, -101.47409091), (-69.922676622, -104.343331361), (-67.629508512, -106.068171546))
            ThreePointArc((-67.629508512, -106.068171546), (-77.764134182, -100.782884182), (-83.049421546, -90.648258512))
        make_face()
        with BuildLine():
            ThreePointArc((69.888722557, -101.47409091), (69.922676622, -104.343331361), (67.629508512, -106.068171546))
            ThreePointArc((67.629508512, -106.068171546), (77.764134182, -100.782884182), (83.049421546, -90.648258512))
            ThreePointArc((83.049421546, -90.648258512), (81.324581361, -92.941426622), (78.45534091, -92.907472557))
            ThreePointArc((78.45534091, -92.907472557), (71.028942091, -94.047692091), (69.888722557, -101.47409091))
        make_face()
    extrude(amount=BOSS_EXTRUDE3_DEPTH)

    # 1/4 (0.25) Diameter Hole1 (through all)
    with Locations(Plane(origin=(0, 6.35, 0), x_dir=(1, 0, 0), z_dir=(0, 1, 0))):
        with Locations((-57.94375, 70.96125), (-57.94375, -94.13875), (57.94375, -94.13875), (57.94375, 70.96125)):
            Hole(F_1_4_0_25_DIAMETER_HOLE1_D / 2)

    # 3/8 (0.375) Diameter Hole1 (through all)
    with Locations(Plane(origin=(0, 0, 0), x_dir=(-1, 0, 0), z_dir=(0, -1, 0))):
        with Locations((-73.81875, 77.7875), (73.81875, 77.7875), (73.81875, -74.6125), (-73.81875, -74.6125)):
            Hole(F_3_8_0_375_DIAMETER_HOLE1_D / 2)

    # Mirror1: Cut-Extrude2 across plane
    add(cut_extrude2.mirror(Plane(origin=(0, 0, 0), x_dir=(0, 0, 1), z_dir=(1, 0, 0))), mode=Mode.SUBTRACT)

    # 1/4-20 Tapped Hole1
    with Locations(Plane(origin=(0, 25.4, 0), x_dir=(1, 0, 0), z_dir=(0, 1, 0))):
        with Locations((-75.519070151, -98.537820151), (75.519070151, -98.537820151), (80.633717985, 103.652467985), (0, 103.1875), (-80.633717985, 103.652467985)):
            Hole(F_1_4_20_TAPPED_HOLE1_D / 2, depth=F_1_4_20_TAPPED_HOLE1_DEPTH)
            with Locations((0, 0, -(F_1_4_20_TAPPED_HOLE1_DEPTH + F_1_4_20_TAPPED_HOLE1_TIP / 2))):  # 118° drill point
                Cone(0, F_1_4_20_TAPPED_HOLE1_D / 2, F_1_4_20_TAPPED_HOLE1_TIP, mode=Mode.SUBTRACT)


solid = part.part
